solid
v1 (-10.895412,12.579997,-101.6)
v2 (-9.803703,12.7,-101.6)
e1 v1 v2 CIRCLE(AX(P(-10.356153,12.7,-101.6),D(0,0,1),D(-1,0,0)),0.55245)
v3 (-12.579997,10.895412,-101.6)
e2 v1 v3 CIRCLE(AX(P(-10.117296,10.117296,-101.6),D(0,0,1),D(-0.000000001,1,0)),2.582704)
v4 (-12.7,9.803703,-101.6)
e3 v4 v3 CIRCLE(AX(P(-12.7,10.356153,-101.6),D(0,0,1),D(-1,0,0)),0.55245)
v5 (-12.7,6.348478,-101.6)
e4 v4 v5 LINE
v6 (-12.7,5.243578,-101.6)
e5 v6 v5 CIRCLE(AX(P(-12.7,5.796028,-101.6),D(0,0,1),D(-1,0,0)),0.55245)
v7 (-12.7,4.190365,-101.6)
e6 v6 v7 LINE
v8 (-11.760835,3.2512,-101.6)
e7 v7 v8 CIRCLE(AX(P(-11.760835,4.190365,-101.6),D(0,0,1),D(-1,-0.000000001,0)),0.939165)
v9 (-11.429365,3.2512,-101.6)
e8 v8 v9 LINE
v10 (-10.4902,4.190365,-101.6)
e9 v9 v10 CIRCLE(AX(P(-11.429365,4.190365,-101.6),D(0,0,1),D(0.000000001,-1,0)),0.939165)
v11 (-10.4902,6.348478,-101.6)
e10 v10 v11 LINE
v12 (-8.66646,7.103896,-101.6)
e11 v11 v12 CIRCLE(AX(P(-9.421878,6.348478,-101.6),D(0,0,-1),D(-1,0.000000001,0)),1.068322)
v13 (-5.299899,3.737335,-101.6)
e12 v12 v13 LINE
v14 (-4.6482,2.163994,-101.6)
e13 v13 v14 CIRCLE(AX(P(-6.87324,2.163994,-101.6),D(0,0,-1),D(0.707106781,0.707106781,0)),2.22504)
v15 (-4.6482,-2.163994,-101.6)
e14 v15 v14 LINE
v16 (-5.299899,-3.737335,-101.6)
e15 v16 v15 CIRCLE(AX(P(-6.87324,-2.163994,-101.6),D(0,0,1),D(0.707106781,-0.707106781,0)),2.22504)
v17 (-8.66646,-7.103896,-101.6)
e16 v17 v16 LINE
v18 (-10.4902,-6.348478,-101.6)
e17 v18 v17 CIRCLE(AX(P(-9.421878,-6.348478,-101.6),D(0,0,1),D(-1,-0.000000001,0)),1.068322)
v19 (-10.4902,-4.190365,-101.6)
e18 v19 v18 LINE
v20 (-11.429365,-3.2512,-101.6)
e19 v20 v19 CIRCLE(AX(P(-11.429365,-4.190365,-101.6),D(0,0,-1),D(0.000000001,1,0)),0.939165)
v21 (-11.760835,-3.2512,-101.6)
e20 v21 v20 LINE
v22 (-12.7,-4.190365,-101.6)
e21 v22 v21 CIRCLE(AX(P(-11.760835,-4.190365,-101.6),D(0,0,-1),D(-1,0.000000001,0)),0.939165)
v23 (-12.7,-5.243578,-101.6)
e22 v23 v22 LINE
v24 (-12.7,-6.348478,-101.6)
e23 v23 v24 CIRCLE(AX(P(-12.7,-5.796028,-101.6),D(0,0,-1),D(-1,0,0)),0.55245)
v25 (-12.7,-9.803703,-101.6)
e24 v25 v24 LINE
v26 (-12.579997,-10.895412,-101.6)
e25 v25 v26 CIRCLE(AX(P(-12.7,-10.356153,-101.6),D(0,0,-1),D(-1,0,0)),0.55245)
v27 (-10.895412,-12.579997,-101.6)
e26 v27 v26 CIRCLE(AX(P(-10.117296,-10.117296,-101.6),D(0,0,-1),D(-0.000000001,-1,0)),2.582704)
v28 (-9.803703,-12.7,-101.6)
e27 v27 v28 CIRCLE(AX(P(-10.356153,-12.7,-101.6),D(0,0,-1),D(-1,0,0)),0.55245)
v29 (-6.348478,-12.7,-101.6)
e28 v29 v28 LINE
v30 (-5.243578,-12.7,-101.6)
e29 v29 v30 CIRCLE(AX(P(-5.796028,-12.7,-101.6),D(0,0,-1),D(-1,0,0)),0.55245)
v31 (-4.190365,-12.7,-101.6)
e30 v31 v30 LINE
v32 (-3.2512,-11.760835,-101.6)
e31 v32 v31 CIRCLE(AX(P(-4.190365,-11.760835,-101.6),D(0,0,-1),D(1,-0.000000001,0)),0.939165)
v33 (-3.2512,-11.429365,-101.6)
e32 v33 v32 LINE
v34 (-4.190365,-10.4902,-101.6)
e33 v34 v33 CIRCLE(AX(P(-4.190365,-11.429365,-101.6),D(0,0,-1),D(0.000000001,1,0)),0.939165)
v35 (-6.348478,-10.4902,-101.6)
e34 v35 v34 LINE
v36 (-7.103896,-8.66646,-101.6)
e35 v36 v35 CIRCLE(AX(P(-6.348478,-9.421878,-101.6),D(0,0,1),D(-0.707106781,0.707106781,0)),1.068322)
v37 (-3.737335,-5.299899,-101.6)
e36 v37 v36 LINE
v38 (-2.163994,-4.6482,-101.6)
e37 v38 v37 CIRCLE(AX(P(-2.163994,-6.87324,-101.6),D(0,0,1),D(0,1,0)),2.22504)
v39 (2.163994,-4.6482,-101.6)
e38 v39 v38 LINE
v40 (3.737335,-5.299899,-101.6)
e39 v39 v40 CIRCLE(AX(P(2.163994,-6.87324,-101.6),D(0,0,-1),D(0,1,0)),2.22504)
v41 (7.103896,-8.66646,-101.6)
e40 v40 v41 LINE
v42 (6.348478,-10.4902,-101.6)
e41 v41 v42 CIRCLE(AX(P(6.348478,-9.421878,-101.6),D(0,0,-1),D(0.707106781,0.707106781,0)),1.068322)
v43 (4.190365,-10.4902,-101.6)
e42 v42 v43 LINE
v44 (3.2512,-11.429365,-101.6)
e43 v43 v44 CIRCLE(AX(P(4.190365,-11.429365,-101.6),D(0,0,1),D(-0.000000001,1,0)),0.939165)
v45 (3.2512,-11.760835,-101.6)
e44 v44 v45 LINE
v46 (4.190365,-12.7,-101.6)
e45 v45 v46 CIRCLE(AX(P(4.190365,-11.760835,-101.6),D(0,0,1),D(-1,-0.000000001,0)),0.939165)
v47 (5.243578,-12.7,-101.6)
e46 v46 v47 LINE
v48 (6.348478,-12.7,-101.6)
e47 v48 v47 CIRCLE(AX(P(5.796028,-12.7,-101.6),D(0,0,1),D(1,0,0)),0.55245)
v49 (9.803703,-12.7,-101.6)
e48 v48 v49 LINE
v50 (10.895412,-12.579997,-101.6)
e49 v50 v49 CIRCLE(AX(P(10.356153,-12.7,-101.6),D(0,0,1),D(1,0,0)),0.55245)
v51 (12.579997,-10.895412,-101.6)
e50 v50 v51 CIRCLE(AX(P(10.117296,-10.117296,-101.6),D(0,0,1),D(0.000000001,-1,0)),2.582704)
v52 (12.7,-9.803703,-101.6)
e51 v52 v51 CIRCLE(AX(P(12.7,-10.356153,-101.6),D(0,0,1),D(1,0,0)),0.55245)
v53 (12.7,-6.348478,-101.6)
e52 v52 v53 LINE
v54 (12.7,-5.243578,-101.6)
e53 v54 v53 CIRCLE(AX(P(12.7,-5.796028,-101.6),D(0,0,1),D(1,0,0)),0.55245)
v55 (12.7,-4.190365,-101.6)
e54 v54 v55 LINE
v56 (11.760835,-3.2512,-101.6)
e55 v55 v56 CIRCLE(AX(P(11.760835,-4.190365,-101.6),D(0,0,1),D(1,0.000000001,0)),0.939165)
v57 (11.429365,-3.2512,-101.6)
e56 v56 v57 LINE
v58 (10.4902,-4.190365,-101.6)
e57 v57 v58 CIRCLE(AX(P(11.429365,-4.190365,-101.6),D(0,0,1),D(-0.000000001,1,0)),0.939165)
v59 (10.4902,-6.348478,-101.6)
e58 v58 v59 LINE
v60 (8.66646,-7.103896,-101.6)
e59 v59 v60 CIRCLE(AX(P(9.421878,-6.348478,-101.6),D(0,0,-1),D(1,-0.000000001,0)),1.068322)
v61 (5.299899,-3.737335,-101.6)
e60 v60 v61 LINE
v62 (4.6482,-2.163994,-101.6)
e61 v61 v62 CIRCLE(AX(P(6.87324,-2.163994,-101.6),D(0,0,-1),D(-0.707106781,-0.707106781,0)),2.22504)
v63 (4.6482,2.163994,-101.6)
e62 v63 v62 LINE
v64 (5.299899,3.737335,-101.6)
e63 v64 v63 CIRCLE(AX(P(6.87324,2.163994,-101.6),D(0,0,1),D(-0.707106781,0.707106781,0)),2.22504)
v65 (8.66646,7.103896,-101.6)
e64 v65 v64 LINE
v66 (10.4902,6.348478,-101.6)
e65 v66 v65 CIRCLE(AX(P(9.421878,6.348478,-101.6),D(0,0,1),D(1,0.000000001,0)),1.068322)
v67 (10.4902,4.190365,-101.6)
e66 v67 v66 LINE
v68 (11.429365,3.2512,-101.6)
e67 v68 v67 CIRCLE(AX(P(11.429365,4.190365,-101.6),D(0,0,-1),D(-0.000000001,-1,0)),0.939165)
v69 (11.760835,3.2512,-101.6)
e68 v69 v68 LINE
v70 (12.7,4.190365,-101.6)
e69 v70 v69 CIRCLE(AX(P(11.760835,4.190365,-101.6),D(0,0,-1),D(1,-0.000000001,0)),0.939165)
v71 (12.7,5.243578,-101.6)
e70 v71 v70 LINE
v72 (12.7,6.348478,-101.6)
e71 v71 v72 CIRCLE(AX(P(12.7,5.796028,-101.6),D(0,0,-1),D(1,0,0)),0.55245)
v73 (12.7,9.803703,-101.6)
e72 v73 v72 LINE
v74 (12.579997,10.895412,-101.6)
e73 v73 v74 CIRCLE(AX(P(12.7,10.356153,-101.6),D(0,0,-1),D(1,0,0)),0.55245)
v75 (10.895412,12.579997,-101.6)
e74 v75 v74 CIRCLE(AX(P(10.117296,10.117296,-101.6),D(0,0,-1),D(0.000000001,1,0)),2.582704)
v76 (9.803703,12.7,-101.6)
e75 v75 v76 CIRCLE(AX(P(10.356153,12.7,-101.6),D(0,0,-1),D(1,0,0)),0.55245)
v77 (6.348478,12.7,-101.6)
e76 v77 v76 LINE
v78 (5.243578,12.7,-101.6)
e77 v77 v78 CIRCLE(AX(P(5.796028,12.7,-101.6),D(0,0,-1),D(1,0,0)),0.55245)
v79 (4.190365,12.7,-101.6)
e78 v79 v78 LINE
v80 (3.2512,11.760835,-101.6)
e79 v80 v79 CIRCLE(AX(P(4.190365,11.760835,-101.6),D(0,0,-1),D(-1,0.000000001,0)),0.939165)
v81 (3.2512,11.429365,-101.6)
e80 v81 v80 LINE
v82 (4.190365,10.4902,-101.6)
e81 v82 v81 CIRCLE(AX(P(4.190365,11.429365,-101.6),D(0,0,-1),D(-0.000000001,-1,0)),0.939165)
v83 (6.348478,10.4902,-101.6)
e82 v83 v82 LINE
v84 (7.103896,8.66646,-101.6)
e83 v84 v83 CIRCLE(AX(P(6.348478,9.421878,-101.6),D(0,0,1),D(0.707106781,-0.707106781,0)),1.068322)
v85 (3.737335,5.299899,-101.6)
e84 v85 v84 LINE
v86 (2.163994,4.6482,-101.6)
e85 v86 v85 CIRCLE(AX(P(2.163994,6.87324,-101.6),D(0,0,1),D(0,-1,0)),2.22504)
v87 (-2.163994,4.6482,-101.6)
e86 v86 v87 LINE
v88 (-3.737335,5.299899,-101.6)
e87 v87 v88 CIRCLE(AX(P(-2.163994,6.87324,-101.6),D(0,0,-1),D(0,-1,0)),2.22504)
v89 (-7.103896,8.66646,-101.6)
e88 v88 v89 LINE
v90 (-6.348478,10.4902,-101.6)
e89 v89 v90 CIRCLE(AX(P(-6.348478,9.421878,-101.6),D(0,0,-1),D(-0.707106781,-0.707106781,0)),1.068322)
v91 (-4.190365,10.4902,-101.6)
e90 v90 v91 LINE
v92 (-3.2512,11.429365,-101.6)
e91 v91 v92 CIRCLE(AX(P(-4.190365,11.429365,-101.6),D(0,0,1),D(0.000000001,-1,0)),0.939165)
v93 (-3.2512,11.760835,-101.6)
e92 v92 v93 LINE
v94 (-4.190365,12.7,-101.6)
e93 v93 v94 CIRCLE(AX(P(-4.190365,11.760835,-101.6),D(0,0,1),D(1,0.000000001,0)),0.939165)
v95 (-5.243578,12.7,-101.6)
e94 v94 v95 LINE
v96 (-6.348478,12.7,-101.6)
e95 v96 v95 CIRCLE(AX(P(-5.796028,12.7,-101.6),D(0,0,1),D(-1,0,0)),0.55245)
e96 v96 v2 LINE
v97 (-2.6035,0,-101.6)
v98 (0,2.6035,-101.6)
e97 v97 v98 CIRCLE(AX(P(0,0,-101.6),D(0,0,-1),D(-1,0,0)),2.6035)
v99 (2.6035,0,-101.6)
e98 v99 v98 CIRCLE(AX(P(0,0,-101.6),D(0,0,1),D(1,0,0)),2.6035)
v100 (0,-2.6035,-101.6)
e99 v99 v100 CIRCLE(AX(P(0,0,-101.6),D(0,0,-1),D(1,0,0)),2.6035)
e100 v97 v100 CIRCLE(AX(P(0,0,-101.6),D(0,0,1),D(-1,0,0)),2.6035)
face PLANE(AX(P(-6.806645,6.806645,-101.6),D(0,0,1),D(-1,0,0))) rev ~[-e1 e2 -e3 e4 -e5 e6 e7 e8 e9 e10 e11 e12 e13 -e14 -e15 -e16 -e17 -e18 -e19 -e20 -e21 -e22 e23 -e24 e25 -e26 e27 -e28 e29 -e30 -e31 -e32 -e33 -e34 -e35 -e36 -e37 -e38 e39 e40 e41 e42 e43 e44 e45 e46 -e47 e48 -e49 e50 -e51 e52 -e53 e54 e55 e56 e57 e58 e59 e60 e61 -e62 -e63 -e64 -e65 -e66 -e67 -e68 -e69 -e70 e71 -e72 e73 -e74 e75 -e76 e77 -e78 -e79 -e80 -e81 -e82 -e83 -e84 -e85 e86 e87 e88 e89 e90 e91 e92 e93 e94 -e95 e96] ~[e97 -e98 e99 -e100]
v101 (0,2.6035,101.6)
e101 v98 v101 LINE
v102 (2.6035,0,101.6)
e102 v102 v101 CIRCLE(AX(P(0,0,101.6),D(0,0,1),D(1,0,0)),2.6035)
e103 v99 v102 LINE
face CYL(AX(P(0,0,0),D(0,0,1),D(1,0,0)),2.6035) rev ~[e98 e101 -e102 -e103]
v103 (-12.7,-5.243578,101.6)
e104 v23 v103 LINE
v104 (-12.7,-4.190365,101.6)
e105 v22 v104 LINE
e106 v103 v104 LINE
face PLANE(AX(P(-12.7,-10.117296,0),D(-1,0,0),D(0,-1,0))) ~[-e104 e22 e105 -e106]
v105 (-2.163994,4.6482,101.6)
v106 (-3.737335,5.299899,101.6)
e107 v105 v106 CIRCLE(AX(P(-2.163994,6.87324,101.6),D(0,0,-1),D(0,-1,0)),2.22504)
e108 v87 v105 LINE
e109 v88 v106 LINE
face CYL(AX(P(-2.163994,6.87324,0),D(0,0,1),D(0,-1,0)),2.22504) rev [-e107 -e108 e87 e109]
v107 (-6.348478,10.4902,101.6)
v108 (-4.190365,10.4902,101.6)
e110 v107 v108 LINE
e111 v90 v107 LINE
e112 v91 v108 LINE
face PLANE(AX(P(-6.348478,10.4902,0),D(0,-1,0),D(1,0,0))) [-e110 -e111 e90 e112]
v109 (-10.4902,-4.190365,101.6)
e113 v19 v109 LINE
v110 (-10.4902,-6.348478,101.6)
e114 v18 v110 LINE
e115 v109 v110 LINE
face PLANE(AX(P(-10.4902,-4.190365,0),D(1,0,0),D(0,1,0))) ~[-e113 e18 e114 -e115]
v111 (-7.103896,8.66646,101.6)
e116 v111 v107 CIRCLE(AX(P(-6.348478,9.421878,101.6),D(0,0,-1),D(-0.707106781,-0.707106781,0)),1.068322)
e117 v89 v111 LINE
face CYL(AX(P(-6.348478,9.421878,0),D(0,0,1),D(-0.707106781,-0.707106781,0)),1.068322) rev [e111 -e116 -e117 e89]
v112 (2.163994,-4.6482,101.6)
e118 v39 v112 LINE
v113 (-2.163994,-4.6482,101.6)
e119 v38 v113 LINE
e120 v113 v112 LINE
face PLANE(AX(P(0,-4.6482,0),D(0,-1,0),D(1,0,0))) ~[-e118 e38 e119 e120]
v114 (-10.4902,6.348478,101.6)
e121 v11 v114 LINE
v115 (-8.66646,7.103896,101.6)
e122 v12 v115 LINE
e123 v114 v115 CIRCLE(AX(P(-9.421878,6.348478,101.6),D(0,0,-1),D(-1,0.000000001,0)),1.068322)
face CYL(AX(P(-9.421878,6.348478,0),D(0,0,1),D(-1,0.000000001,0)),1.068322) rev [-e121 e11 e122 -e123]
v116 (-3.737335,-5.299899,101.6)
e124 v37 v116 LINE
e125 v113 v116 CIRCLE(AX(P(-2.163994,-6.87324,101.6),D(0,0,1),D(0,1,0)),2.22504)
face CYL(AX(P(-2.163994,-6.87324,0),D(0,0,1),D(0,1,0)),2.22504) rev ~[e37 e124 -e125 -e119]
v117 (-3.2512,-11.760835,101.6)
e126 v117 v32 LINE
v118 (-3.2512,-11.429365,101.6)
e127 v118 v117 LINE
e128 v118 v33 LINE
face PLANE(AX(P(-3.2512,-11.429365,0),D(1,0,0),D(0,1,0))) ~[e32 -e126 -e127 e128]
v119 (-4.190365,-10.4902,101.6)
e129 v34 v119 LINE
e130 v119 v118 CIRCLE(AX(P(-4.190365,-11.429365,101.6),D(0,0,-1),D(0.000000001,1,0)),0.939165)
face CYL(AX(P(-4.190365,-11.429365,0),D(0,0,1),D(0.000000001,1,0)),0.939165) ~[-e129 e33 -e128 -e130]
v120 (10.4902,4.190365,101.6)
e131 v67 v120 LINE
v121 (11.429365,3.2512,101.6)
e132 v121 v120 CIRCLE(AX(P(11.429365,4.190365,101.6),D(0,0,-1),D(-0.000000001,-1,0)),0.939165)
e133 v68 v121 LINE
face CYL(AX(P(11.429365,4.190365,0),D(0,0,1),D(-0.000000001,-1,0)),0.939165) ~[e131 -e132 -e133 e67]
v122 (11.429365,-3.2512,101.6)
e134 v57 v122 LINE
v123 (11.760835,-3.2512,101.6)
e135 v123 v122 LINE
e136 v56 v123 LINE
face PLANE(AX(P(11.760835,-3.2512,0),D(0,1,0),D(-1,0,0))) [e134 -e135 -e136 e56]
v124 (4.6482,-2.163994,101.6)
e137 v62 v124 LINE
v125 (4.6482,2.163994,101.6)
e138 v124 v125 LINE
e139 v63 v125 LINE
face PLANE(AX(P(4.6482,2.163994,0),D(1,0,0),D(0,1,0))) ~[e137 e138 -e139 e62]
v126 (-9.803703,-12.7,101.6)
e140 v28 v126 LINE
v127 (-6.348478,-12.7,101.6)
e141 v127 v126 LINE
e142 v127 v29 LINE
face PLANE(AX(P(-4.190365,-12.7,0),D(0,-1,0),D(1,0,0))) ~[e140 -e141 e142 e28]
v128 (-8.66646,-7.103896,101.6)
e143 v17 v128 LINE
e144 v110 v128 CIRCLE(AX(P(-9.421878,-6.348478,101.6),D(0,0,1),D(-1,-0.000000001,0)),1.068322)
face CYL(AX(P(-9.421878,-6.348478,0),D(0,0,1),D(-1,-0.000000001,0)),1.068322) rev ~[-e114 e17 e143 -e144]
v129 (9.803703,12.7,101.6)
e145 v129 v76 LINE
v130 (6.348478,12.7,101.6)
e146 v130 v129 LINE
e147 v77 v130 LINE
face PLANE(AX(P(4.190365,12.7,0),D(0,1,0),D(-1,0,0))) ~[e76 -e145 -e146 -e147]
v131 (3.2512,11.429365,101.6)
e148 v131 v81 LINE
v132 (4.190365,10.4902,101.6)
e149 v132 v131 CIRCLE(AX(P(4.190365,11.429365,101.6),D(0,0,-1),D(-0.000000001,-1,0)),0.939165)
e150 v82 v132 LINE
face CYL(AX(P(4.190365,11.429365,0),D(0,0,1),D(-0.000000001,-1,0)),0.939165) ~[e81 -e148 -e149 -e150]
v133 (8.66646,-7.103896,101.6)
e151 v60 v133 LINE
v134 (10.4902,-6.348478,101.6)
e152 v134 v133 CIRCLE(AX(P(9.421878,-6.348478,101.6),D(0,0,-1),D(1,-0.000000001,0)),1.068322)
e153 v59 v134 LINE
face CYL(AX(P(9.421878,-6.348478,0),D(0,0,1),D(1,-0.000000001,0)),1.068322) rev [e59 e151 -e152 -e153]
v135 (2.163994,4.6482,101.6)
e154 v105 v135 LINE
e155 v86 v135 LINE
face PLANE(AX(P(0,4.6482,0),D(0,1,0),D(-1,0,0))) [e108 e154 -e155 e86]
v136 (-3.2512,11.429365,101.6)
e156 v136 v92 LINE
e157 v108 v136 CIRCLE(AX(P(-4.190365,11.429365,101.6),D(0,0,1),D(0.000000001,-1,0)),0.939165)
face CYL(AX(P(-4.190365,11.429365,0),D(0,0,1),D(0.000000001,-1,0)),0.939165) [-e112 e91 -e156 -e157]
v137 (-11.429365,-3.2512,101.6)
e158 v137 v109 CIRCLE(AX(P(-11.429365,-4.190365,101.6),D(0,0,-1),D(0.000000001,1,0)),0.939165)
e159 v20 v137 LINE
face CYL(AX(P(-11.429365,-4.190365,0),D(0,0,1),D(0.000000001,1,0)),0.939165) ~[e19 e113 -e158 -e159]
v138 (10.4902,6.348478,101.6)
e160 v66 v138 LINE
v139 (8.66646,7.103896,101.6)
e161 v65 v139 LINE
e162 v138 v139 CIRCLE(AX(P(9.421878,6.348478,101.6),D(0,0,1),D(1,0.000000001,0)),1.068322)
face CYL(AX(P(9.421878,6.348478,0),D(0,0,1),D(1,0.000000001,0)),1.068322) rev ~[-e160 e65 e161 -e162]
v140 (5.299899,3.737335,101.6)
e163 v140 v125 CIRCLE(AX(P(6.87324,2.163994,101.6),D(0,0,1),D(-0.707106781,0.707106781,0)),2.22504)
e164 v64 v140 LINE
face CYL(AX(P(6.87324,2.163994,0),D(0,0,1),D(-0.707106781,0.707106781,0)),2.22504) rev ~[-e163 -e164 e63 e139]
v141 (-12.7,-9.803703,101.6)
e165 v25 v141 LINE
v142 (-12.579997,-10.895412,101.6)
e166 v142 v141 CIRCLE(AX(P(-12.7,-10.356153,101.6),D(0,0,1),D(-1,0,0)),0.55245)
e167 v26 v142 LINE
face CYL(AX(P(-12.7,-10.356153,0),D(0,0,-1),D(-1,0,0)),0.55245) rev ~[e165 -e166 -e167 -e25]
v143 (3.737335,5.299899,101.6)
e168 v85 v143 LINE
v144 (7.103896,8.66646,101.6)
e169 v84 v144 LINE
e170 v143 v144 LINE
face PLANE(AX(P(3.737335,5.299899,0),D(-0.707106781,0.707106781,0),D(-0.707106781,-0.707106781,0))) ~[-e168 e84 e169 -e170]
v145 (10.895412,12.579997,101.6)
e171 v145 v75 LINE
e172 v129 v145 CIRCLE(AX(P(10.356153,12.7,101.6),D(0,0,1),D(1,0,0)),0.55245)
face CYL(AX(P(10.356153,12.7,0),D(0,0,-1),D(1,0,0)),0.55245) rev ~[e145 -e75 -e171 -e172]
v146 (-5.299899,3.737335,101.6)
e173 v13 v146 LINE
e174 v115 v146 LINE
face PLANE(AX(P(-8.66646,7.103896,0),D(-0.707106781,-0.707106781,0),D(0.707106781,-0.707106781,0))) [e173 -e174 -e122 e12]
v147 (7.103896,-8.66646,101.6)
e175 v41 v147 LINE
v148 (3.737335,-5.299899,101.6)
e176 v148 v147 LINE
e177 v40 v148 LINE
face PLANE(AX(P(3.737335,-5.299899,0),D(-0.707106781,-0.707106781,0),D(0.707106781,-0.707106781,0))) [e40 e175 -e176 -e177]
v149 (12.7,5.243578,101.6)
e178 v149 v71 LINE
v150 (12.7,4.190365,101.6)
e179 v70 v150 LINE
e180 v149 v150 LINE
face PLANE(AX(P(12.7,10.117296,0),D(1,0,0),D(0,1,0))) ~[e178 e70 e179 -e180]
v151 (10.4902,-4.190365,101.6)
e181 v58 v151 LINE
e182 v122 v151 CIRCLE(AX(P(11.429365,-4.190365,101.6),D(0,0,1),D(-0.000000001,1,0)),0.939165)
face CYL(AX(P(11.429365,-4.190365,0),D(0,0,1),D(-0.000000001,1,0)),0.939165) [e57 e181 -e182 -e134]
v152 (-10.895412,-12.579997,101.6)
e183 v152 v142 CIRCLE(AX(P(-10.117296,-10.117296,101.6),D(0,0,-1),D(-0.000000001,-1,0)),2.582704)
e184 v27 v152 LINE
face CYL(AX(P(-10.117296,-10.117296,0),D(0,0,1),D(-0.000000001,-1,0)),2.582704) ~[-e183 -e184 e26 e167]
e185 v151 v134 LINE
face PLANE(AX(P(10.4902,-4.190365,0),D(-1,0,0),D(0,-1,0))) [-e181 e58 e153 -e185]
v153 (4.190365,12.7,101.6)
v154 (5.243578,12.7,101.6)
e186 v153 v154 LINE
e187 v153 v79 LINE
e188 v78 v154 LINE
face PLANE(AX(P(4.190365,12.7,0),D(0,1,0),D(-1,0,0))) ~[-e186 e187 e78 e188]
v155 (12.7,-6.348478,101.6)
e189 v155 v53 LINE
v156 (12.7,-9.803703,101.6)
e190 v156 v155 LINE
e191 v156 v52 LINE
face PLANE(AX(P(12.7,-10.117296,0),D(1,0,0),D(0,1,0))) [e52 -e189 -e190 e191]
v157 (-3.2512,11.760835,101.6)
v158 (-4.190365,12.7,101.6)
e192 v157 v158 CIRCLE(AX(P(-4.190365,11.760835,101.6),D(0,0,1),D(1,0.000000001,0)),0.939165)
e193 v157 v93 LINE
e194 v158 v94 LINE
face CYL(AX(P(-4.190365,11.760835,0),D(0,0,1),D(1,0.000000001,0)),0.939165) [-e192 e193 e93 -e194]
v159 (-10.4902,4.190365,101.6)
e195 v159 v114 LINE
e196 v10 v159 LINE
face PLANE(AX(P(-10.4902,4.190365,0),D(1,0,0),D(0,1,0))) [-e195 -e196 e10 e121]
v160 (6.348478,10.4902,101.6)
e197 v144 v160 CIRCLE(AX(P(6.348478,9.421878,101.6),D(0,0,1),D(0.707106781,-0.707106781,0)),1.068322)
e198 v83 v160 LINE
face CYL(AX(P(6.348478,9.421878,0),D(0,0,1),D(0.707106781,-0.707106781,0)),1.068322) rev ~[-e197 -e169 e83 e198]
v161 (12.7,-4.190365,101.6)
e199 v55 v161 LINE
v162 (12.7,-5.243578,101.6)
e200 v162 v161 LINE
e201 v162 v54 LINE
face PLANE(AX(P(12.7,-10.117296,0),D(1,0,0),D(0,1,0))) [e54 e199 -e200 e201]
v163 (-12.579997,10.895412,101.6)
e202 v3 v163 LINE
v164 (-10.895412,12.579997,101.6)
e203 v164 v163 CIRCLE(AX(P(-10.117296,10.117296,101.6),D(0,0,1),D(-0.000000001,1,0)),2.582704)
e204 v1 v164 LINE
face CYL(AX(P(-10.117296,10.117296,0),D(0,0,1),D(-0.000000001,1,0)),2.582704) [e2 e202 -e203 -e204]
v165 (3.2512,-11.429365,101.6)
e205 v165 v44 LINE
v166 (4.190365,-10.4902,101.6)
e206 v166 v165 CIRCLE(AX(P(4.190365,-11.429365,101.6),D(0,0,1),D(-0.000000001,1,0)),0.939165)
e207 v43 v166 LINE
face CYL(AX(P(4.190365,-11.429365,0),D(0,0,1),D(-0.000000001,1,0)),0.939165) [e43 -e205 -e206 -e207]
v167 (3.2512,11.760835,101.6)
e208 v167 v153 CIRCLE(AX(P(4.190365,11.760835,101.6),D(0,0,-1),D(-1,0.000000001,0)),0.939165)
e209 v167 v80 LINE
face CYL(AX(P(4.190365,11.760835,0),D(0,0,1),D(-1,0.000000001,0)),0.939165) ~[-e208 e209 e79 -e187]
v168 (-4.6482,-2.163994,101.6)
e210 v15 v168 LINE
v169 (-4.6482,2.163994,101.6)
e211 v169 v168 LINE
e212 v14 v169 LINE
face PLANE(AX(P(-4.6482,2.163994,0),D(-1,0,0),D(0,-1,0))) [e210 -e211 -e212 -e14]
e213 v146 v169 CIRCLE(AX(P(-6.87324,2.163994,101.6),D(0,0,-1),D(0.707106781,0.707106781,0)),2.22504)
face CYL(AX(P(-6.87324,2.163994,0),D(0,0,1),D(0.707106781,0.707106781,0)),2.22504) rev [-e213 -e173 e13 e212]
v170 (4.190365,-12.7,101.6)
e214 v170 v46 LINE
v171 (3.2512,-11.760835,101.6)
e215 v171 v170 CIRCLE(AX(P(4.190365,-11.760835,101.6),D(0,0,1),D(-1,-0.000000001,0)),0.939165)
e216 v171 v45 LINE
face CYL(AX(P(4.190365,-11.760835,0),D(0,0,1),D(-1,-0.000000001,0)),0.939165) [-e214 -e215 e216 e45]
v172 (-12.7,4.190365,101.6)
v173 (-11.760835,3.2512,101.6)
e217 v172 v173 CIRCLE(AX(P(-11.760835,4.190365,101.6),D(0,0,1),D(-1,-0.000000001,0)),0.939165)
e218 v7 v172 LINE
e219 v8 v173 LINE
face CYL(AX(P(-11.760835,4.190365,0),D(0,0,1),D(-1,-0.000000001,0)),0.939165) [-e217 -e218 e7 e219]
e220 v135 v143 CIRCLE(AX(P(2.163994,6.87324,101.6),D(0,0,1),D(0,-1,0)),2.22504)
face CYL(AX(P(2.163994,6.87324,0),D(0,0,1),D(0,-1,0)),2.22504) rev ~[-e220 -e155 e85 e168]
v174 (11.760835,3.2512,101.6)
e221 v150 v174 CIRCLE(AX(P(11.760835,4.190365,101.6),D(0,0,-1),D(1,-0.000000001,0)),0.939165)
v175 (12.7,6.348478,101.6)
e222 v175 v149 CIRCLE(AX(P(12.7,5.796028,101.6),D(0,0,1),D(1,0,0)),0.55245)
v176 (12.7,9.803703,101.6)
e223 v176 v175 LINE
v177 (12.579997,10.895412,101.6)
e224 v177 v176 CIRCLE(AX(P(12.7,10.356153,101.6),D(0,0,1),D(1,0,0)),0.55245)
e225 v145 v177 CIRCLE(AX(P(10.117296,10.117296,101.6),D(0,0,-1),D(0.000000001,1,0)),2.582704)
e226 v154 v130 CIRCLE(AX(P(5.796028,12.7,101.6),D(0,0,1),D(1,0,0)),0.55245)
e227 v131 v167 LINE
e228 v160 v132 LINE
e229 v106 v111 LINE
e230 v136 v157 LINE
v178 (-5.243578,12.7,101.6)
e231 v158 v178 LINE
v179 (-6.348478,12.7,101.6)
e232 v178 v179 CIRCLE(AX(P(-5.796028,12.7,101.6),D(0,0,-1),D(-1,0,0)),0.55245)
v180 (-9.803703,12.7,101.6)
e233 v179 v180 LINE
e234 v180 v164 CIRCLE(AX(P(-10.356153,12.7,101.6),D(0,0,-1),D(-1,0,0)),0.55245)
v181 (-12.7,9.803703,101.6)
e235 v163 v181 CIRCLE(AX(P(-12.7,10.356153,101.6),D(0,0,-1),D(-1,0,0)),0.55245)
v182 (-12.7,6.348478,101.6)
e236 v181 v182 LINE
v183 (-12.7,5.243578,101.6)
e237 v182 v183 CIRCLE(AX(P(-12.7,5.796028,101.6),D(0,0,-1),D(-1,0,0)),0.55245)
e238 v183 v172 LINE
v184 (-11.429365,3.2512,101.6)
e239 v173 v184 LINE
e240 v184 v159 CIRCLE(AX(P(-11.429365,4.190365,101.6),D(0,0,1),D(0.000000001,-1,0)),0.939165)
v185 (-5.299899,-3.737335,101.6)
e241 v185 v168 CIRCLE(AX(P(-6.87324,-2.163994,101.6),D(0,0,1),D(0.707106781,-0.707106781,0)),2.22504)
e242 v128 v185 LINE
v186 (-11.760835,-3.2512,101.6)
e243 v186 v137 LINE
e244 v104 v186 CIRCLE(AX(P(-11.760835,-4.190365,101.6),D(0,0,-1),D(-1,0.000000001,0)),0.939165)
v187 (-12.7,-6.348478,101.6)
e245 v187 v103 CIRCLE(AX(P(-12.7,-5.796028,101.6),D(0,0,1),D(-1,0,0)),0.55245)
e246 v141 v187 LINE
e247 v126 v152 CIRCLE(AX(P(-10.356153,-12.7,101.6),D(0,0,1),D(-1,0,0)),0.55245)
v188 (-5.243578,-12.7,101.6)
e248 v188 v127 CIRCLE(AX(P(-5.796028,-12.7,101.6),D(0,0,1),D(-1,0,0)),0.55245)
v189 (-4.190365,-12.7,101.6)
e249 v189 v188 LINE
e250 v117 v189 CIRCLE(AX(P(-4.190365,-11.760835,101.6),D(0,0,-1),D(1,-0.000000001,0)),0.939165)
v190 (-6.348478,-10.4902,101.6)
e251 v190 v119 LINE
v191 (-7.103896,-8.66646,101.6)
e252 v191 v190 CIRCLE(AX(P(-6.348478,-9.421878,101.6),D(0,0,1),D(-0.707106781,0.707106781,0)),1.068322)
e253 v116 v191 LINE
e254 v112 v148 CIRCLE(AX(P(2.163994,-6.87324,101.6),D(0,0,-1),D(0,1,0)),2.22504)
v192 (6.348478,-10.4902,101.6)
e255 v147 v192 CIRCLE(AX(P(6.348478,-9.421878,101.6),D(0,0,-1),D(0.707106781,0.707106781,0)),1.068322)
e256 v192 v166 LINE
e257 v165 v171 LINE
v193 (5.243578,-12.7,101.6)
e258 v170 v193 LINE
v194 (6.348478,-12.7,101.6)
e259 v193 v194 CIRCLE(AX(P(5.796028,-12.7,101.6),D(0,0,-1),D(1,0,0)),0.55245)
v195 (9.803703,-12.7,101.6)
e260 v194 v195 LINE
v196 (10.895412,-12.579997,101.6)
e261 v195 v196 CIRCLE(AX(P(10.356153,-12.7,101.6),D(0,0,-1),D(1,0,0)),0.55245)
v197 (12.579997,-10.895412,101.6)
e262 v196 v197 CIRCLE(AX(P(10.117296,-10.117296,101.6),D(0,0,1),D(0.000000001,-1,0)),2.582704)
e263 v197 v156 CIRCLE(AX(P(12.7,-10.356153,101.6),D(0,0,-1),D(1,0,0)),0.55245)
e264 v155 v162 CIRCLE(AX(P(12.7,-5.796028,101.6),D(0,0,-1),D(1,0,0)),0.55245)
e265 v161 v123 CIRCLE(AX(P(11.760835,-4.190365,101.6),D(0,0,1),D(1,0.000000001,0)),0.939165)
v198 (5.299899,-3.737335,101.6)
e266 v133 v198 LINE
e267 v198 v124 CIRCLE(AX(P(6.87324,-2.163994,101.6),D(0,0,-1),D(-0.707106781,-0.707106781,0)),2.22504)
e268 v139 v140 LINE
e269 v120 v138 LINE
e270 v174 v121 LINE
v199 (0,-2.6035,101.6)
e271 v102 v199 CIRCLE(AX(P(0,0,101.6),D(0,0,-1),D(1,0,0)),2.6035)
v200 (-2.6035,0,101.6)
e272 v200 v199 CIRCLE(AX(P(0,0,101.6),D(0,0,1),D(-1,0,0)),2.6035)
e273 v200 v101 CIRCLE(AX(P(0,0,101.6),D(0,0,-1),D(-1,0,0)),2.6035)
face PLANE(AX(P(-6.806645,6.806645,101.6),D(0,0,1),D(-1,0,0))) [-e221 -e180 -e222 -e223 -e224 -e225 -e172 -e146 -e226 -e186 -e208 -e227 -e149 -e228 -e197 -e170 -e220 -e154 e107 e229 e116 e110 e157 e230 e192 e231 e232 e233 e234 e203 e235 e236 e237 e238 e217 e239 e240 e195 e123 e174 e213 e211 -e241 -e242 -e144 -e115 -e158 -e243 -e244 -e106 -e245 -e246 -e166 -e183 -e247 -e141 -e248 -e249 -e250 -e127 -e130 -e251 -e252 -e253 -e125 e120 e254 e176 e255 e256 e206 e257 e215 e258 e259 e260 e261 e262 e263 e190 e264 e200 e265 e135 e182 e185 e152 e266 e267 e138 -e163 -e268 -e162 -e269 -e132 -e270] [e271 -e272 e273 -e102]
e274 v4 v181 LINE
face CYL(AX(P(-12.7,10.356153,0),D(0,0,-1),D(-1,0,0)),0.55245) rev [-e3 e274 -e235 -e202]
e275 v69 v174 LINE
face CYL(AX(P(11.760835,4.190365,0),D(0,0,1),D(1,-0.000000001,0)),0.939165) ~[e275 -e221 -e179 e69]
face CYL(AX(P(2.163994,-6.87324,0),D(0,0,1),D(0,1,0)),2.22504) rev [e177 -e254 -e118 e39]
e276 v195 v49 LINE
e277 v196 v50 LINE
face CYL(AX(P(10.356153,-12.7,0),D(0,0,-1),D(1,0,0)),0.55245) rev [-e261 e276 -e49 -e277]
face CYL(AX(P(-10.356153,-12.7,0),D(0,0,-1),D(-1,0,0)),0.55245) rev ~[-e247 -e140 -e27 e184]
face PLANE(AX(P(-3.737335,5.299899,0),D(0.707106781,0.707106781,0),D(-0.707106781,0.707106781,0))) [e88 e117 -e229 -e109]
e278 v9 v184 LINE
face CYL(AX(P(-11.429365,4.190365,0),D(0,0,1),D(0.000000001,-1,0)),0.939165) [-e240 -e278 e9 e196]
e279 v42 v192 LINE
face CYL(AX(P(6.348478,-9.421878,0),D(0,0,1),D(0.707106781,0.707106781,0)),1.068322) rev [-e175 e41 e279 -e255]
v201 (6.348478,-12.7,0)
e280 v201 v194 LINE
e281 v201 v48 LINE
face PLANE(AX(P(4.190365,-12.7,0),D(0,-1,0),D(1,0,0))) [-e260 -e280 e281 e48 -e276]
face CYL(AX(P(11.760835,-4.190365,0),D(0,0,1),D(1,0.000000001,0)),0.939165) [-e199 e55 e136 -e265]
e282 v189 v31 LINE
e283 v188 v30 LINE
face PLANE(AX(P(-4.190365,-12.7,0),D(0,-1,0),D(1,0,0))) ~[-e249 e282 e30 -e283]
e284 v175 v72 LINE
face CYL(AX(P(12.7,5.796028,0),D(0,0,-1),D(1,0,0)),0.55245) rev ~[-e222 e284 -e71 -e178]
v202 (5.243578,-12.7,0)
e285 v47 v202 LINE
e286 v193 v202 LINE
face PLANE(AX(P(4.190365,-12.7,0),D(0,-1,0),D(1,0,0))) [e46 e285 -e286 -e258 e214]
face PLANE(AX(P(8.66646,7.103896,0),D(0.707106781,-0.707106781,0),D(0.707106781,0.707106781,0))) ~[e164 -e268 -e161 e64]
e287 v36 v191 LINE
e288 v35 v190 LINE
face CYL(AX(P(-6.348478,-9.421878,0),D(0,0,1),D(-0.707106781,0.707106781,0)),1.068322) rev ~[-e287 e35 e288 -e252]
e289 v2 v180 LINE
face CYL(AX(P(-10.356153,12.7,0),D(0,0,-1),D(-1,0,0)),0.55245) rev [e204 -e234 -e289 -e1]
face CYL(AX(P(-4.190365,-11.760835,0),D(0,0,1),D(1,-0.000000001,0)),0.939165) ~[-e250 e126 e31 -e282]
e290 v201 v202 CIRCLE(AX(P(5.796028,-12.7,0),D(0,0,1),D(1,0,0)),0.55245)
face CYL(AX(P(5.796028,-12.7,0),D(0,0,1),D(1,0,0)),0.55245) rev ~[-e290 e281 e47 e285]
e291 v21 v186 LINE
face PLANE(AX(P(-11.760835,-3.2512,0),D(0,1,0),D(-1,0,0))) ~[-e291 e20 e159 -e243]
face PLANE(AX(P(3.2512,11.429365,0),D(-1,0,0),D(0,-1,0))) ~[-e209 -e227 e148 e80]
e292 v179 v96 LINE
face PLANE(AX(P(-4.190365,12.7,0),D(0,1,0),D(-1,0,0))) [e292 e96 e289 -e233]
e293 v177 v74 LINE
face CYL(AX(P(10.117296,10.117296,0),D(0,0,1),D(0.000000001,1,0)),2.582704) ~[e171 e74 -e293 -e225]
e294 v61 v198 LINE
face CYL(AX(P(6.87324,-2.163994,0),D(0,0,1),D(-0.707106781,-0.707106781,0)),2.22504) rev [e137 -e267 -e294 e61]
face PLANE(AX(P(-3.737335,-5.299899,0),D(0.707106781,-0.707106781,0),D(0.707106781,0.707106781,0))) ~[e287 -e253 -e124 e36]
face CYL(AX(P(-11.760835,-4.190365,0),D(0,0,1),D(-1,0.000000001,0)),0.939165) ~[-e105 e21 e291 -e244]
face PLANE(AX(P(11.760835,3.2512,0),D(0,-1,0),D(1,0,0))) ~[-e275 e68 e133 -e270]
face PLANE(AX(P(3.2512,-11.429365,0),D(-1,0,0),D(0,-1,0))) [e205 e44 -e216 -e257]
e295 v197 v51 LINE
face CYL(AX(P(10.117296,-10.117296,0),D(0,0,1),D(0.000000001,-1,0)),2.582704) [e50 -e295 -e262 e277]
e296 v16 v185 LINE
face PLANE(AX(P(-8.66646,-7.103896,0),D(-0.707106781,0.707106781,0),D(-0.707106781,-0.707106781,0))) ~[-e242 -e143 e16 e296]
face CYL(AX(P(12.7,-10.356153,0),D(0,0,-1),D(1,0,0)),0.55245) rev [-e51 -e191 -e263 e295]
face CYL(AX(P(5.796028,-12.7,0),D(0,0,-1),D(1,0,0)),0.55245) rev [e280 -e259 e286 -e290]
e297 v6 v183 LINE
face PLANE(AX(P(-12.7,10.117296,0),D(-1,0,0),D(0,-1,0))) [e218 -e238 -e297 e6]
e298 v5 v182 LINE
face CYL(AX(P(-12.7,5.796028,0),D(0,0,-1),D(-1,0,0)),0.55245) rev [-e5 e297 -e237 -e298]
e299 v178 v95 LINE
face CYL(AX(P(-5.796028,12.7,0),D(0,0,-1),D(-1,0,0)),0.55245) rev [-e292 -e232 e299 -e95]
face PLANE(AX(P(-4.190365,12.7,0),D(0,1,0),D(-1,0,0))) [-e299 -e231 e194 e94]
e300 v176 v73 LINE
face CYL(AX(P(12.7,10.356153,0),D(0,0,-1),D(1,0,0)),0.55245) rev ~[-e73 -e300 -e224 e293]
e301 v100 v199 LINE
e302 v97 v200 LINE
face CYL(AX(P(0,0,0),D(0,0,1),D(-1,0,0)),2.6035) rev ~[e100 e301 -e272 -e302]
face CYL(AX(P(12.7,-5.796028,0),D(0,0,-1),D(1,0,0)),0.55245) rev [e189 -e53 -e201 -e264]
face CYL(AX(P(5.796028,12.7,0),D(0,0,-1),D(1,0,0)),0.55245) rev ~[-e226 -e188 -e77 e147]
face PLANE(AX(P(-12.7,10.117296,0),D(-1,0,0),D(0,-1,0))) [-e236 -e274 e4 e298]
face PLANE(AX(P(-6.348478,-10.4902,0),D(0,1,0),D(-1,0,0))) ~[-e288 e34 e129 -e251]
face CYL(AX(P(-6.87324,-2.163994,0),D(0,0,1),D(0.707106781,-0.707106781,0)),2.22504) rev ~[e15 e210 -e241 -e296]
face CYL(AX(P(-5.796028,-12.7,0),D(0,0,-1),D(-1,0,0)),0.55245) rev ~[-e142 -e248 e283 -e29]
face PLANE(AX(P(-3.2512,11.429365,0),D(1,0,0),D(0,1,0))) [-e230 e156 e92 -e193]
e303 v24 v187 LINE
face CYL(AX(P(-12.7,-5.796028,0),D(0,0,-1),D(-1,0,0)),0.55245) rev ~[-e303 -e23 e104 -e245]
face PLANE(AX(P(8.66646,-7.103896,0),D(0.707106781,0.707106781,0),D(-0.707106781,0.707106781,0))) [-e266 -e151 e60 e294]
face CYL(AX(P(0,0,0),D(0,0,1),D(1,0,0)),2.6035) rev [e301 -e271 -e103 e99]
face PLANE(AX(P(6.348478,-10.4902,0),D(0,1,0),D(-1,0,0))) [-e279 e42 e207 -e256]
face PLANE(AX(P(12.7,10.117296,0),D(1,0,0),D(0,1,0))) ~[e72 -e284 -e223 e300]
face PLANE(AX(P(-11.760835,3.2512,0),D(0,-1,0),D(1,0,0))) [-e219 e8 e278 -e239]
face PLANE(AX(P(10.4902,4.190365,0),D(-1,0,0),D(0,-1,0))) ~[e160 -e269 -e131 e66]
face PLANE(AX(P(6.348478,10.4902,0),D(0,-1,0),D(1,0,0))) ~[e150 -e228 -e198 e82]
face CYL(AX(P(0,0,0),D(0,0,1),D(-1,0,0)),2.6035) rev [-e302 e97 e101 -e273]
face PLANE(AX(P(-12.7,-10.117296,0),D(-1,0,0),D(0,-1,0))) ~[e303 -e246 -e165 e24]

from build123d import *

# Parameters (mm, degrees)
BOSS_EXTRUDE1_DEPTH     = 101.6
SKETCH5_R               = 0.55245
CUT_EXTRUDE1_DEPTH      = 102.6
CUT_EXTRUDE1_DEPTH_BACK = 102.6


with BuildPart() as part:
    # Sketch4 → Boss-Extrude1 (new body, symmetric)
    with BuildSketch(Plane.XY):
        with BuildLine():
            Line((4.190365, -12.7), (10.11729625, -12.7))
            ThreePointArc((10.11729625, -12.7), (11.943543585, -11.943543585), (12.7, -10.11729625))
            Line((12.7, -10.11729625), (12.7, -4.190365))
            ThreePointArc((12.7, -4.190365), (12.42492494, -3.52627506), (11.760835, -3.2512))
            Line((11.760835, -3.2512), (11.429365, -3.2512))
            ThreePointArc((11.429365, -3.2512), (10.76527506, -3.52627506), (10.4902, -4.190365))
            Line((10.4902, -4.190365), (10.4902, -6.348478019))
            ThreePointArc((10.4902, -6.348478019), (9.830707141, -7.335478831), (8.666460301, -7.103895736))
            Line((8.666460301, -7.103895736), (5.299899128, -3.737334563))
            ThreePointArc((5.299899128, -3.737334563), (4.817571085, -3.015479634), (4.6482, -2.16399369))
            Line((4.6482, -2.16399369), (4.6482, 0))
            Line((4.6482, 0), (2.6035, 0))
            ThreePointArc((2.6035, 0), (1.840952505, -1.840952505), (0, -2.6035))
            Line((0, -2.6035), (0, -4.6482))
            Line((0, -4.6482), (2.16399369, -4.6482))
            ThreePointArc((2.16399369, -4.6482), (3.015479634, -4.817571085), (3.737334563, -5.299899128))
            Line((3.737334563, -5.299899128), (7.103895736, -8.666460301))
            ThreePointArc((7.103895736, -8.666460301), (7.335478831, -9.830707141), (6.348478019, -10.4902))
            Line((6.348478019, -10.4902), (4.190365, -10.4902))
            ThreePointArc((4.190365, -10.4902), (3.52627506, -10.76527506), (3.2512, -11.429365))
            Line((3.2512, -11.429365), (3.2512, -11.760835))
            ThreePointArc((3.2512, -11.760835), (3.52627506, -12.42492494), (4.190365, -12.7))
        make_face()
    extrude(amount=BOSS_EXTRUDE1_DEPTH, both=True)

    # Sketch5 → Cut-Extrude1 (cut, two sides)
    with BuildSketch(Plane.XY) as cut_extrude1_sk:
        with Locations((10.356153152, -12.7)):
            Circle(SKETCH5_R)
        with Locations((5.796028019, -12.7)):
            Circle(SKETCH5_R)
        with Locations((12.7, -10.356153152)):
            Circle(SKETCH5_R)
        with Locations((12.7, -5.796028019)):
            Circle(SKETCH5_R)
    extrude(amount=CUT_EXTRUDE1_DEPTH, mode=Mode.SUBTRACT)
    extrude(cut_extrude1_sk.sketch, amount=-CUT_EXTRUDE1_DEPTH_BACK, mode=Mode.SUBTRACT)

    # Mirror1: part across plane


with BuildPart() as part_1:
    add(part.part)
    add(part.part.mirror(Plane(origin=(0, 0, 0), x_dir=(0, 0, 1), z_dir=(1, 0, 0))))

    # Mirror2: part across plane


with BuildPart() as part_2:
    add(part_1.part)
    add(part_1.part.mirror(Plane.ZX))


solid = part_2.part
